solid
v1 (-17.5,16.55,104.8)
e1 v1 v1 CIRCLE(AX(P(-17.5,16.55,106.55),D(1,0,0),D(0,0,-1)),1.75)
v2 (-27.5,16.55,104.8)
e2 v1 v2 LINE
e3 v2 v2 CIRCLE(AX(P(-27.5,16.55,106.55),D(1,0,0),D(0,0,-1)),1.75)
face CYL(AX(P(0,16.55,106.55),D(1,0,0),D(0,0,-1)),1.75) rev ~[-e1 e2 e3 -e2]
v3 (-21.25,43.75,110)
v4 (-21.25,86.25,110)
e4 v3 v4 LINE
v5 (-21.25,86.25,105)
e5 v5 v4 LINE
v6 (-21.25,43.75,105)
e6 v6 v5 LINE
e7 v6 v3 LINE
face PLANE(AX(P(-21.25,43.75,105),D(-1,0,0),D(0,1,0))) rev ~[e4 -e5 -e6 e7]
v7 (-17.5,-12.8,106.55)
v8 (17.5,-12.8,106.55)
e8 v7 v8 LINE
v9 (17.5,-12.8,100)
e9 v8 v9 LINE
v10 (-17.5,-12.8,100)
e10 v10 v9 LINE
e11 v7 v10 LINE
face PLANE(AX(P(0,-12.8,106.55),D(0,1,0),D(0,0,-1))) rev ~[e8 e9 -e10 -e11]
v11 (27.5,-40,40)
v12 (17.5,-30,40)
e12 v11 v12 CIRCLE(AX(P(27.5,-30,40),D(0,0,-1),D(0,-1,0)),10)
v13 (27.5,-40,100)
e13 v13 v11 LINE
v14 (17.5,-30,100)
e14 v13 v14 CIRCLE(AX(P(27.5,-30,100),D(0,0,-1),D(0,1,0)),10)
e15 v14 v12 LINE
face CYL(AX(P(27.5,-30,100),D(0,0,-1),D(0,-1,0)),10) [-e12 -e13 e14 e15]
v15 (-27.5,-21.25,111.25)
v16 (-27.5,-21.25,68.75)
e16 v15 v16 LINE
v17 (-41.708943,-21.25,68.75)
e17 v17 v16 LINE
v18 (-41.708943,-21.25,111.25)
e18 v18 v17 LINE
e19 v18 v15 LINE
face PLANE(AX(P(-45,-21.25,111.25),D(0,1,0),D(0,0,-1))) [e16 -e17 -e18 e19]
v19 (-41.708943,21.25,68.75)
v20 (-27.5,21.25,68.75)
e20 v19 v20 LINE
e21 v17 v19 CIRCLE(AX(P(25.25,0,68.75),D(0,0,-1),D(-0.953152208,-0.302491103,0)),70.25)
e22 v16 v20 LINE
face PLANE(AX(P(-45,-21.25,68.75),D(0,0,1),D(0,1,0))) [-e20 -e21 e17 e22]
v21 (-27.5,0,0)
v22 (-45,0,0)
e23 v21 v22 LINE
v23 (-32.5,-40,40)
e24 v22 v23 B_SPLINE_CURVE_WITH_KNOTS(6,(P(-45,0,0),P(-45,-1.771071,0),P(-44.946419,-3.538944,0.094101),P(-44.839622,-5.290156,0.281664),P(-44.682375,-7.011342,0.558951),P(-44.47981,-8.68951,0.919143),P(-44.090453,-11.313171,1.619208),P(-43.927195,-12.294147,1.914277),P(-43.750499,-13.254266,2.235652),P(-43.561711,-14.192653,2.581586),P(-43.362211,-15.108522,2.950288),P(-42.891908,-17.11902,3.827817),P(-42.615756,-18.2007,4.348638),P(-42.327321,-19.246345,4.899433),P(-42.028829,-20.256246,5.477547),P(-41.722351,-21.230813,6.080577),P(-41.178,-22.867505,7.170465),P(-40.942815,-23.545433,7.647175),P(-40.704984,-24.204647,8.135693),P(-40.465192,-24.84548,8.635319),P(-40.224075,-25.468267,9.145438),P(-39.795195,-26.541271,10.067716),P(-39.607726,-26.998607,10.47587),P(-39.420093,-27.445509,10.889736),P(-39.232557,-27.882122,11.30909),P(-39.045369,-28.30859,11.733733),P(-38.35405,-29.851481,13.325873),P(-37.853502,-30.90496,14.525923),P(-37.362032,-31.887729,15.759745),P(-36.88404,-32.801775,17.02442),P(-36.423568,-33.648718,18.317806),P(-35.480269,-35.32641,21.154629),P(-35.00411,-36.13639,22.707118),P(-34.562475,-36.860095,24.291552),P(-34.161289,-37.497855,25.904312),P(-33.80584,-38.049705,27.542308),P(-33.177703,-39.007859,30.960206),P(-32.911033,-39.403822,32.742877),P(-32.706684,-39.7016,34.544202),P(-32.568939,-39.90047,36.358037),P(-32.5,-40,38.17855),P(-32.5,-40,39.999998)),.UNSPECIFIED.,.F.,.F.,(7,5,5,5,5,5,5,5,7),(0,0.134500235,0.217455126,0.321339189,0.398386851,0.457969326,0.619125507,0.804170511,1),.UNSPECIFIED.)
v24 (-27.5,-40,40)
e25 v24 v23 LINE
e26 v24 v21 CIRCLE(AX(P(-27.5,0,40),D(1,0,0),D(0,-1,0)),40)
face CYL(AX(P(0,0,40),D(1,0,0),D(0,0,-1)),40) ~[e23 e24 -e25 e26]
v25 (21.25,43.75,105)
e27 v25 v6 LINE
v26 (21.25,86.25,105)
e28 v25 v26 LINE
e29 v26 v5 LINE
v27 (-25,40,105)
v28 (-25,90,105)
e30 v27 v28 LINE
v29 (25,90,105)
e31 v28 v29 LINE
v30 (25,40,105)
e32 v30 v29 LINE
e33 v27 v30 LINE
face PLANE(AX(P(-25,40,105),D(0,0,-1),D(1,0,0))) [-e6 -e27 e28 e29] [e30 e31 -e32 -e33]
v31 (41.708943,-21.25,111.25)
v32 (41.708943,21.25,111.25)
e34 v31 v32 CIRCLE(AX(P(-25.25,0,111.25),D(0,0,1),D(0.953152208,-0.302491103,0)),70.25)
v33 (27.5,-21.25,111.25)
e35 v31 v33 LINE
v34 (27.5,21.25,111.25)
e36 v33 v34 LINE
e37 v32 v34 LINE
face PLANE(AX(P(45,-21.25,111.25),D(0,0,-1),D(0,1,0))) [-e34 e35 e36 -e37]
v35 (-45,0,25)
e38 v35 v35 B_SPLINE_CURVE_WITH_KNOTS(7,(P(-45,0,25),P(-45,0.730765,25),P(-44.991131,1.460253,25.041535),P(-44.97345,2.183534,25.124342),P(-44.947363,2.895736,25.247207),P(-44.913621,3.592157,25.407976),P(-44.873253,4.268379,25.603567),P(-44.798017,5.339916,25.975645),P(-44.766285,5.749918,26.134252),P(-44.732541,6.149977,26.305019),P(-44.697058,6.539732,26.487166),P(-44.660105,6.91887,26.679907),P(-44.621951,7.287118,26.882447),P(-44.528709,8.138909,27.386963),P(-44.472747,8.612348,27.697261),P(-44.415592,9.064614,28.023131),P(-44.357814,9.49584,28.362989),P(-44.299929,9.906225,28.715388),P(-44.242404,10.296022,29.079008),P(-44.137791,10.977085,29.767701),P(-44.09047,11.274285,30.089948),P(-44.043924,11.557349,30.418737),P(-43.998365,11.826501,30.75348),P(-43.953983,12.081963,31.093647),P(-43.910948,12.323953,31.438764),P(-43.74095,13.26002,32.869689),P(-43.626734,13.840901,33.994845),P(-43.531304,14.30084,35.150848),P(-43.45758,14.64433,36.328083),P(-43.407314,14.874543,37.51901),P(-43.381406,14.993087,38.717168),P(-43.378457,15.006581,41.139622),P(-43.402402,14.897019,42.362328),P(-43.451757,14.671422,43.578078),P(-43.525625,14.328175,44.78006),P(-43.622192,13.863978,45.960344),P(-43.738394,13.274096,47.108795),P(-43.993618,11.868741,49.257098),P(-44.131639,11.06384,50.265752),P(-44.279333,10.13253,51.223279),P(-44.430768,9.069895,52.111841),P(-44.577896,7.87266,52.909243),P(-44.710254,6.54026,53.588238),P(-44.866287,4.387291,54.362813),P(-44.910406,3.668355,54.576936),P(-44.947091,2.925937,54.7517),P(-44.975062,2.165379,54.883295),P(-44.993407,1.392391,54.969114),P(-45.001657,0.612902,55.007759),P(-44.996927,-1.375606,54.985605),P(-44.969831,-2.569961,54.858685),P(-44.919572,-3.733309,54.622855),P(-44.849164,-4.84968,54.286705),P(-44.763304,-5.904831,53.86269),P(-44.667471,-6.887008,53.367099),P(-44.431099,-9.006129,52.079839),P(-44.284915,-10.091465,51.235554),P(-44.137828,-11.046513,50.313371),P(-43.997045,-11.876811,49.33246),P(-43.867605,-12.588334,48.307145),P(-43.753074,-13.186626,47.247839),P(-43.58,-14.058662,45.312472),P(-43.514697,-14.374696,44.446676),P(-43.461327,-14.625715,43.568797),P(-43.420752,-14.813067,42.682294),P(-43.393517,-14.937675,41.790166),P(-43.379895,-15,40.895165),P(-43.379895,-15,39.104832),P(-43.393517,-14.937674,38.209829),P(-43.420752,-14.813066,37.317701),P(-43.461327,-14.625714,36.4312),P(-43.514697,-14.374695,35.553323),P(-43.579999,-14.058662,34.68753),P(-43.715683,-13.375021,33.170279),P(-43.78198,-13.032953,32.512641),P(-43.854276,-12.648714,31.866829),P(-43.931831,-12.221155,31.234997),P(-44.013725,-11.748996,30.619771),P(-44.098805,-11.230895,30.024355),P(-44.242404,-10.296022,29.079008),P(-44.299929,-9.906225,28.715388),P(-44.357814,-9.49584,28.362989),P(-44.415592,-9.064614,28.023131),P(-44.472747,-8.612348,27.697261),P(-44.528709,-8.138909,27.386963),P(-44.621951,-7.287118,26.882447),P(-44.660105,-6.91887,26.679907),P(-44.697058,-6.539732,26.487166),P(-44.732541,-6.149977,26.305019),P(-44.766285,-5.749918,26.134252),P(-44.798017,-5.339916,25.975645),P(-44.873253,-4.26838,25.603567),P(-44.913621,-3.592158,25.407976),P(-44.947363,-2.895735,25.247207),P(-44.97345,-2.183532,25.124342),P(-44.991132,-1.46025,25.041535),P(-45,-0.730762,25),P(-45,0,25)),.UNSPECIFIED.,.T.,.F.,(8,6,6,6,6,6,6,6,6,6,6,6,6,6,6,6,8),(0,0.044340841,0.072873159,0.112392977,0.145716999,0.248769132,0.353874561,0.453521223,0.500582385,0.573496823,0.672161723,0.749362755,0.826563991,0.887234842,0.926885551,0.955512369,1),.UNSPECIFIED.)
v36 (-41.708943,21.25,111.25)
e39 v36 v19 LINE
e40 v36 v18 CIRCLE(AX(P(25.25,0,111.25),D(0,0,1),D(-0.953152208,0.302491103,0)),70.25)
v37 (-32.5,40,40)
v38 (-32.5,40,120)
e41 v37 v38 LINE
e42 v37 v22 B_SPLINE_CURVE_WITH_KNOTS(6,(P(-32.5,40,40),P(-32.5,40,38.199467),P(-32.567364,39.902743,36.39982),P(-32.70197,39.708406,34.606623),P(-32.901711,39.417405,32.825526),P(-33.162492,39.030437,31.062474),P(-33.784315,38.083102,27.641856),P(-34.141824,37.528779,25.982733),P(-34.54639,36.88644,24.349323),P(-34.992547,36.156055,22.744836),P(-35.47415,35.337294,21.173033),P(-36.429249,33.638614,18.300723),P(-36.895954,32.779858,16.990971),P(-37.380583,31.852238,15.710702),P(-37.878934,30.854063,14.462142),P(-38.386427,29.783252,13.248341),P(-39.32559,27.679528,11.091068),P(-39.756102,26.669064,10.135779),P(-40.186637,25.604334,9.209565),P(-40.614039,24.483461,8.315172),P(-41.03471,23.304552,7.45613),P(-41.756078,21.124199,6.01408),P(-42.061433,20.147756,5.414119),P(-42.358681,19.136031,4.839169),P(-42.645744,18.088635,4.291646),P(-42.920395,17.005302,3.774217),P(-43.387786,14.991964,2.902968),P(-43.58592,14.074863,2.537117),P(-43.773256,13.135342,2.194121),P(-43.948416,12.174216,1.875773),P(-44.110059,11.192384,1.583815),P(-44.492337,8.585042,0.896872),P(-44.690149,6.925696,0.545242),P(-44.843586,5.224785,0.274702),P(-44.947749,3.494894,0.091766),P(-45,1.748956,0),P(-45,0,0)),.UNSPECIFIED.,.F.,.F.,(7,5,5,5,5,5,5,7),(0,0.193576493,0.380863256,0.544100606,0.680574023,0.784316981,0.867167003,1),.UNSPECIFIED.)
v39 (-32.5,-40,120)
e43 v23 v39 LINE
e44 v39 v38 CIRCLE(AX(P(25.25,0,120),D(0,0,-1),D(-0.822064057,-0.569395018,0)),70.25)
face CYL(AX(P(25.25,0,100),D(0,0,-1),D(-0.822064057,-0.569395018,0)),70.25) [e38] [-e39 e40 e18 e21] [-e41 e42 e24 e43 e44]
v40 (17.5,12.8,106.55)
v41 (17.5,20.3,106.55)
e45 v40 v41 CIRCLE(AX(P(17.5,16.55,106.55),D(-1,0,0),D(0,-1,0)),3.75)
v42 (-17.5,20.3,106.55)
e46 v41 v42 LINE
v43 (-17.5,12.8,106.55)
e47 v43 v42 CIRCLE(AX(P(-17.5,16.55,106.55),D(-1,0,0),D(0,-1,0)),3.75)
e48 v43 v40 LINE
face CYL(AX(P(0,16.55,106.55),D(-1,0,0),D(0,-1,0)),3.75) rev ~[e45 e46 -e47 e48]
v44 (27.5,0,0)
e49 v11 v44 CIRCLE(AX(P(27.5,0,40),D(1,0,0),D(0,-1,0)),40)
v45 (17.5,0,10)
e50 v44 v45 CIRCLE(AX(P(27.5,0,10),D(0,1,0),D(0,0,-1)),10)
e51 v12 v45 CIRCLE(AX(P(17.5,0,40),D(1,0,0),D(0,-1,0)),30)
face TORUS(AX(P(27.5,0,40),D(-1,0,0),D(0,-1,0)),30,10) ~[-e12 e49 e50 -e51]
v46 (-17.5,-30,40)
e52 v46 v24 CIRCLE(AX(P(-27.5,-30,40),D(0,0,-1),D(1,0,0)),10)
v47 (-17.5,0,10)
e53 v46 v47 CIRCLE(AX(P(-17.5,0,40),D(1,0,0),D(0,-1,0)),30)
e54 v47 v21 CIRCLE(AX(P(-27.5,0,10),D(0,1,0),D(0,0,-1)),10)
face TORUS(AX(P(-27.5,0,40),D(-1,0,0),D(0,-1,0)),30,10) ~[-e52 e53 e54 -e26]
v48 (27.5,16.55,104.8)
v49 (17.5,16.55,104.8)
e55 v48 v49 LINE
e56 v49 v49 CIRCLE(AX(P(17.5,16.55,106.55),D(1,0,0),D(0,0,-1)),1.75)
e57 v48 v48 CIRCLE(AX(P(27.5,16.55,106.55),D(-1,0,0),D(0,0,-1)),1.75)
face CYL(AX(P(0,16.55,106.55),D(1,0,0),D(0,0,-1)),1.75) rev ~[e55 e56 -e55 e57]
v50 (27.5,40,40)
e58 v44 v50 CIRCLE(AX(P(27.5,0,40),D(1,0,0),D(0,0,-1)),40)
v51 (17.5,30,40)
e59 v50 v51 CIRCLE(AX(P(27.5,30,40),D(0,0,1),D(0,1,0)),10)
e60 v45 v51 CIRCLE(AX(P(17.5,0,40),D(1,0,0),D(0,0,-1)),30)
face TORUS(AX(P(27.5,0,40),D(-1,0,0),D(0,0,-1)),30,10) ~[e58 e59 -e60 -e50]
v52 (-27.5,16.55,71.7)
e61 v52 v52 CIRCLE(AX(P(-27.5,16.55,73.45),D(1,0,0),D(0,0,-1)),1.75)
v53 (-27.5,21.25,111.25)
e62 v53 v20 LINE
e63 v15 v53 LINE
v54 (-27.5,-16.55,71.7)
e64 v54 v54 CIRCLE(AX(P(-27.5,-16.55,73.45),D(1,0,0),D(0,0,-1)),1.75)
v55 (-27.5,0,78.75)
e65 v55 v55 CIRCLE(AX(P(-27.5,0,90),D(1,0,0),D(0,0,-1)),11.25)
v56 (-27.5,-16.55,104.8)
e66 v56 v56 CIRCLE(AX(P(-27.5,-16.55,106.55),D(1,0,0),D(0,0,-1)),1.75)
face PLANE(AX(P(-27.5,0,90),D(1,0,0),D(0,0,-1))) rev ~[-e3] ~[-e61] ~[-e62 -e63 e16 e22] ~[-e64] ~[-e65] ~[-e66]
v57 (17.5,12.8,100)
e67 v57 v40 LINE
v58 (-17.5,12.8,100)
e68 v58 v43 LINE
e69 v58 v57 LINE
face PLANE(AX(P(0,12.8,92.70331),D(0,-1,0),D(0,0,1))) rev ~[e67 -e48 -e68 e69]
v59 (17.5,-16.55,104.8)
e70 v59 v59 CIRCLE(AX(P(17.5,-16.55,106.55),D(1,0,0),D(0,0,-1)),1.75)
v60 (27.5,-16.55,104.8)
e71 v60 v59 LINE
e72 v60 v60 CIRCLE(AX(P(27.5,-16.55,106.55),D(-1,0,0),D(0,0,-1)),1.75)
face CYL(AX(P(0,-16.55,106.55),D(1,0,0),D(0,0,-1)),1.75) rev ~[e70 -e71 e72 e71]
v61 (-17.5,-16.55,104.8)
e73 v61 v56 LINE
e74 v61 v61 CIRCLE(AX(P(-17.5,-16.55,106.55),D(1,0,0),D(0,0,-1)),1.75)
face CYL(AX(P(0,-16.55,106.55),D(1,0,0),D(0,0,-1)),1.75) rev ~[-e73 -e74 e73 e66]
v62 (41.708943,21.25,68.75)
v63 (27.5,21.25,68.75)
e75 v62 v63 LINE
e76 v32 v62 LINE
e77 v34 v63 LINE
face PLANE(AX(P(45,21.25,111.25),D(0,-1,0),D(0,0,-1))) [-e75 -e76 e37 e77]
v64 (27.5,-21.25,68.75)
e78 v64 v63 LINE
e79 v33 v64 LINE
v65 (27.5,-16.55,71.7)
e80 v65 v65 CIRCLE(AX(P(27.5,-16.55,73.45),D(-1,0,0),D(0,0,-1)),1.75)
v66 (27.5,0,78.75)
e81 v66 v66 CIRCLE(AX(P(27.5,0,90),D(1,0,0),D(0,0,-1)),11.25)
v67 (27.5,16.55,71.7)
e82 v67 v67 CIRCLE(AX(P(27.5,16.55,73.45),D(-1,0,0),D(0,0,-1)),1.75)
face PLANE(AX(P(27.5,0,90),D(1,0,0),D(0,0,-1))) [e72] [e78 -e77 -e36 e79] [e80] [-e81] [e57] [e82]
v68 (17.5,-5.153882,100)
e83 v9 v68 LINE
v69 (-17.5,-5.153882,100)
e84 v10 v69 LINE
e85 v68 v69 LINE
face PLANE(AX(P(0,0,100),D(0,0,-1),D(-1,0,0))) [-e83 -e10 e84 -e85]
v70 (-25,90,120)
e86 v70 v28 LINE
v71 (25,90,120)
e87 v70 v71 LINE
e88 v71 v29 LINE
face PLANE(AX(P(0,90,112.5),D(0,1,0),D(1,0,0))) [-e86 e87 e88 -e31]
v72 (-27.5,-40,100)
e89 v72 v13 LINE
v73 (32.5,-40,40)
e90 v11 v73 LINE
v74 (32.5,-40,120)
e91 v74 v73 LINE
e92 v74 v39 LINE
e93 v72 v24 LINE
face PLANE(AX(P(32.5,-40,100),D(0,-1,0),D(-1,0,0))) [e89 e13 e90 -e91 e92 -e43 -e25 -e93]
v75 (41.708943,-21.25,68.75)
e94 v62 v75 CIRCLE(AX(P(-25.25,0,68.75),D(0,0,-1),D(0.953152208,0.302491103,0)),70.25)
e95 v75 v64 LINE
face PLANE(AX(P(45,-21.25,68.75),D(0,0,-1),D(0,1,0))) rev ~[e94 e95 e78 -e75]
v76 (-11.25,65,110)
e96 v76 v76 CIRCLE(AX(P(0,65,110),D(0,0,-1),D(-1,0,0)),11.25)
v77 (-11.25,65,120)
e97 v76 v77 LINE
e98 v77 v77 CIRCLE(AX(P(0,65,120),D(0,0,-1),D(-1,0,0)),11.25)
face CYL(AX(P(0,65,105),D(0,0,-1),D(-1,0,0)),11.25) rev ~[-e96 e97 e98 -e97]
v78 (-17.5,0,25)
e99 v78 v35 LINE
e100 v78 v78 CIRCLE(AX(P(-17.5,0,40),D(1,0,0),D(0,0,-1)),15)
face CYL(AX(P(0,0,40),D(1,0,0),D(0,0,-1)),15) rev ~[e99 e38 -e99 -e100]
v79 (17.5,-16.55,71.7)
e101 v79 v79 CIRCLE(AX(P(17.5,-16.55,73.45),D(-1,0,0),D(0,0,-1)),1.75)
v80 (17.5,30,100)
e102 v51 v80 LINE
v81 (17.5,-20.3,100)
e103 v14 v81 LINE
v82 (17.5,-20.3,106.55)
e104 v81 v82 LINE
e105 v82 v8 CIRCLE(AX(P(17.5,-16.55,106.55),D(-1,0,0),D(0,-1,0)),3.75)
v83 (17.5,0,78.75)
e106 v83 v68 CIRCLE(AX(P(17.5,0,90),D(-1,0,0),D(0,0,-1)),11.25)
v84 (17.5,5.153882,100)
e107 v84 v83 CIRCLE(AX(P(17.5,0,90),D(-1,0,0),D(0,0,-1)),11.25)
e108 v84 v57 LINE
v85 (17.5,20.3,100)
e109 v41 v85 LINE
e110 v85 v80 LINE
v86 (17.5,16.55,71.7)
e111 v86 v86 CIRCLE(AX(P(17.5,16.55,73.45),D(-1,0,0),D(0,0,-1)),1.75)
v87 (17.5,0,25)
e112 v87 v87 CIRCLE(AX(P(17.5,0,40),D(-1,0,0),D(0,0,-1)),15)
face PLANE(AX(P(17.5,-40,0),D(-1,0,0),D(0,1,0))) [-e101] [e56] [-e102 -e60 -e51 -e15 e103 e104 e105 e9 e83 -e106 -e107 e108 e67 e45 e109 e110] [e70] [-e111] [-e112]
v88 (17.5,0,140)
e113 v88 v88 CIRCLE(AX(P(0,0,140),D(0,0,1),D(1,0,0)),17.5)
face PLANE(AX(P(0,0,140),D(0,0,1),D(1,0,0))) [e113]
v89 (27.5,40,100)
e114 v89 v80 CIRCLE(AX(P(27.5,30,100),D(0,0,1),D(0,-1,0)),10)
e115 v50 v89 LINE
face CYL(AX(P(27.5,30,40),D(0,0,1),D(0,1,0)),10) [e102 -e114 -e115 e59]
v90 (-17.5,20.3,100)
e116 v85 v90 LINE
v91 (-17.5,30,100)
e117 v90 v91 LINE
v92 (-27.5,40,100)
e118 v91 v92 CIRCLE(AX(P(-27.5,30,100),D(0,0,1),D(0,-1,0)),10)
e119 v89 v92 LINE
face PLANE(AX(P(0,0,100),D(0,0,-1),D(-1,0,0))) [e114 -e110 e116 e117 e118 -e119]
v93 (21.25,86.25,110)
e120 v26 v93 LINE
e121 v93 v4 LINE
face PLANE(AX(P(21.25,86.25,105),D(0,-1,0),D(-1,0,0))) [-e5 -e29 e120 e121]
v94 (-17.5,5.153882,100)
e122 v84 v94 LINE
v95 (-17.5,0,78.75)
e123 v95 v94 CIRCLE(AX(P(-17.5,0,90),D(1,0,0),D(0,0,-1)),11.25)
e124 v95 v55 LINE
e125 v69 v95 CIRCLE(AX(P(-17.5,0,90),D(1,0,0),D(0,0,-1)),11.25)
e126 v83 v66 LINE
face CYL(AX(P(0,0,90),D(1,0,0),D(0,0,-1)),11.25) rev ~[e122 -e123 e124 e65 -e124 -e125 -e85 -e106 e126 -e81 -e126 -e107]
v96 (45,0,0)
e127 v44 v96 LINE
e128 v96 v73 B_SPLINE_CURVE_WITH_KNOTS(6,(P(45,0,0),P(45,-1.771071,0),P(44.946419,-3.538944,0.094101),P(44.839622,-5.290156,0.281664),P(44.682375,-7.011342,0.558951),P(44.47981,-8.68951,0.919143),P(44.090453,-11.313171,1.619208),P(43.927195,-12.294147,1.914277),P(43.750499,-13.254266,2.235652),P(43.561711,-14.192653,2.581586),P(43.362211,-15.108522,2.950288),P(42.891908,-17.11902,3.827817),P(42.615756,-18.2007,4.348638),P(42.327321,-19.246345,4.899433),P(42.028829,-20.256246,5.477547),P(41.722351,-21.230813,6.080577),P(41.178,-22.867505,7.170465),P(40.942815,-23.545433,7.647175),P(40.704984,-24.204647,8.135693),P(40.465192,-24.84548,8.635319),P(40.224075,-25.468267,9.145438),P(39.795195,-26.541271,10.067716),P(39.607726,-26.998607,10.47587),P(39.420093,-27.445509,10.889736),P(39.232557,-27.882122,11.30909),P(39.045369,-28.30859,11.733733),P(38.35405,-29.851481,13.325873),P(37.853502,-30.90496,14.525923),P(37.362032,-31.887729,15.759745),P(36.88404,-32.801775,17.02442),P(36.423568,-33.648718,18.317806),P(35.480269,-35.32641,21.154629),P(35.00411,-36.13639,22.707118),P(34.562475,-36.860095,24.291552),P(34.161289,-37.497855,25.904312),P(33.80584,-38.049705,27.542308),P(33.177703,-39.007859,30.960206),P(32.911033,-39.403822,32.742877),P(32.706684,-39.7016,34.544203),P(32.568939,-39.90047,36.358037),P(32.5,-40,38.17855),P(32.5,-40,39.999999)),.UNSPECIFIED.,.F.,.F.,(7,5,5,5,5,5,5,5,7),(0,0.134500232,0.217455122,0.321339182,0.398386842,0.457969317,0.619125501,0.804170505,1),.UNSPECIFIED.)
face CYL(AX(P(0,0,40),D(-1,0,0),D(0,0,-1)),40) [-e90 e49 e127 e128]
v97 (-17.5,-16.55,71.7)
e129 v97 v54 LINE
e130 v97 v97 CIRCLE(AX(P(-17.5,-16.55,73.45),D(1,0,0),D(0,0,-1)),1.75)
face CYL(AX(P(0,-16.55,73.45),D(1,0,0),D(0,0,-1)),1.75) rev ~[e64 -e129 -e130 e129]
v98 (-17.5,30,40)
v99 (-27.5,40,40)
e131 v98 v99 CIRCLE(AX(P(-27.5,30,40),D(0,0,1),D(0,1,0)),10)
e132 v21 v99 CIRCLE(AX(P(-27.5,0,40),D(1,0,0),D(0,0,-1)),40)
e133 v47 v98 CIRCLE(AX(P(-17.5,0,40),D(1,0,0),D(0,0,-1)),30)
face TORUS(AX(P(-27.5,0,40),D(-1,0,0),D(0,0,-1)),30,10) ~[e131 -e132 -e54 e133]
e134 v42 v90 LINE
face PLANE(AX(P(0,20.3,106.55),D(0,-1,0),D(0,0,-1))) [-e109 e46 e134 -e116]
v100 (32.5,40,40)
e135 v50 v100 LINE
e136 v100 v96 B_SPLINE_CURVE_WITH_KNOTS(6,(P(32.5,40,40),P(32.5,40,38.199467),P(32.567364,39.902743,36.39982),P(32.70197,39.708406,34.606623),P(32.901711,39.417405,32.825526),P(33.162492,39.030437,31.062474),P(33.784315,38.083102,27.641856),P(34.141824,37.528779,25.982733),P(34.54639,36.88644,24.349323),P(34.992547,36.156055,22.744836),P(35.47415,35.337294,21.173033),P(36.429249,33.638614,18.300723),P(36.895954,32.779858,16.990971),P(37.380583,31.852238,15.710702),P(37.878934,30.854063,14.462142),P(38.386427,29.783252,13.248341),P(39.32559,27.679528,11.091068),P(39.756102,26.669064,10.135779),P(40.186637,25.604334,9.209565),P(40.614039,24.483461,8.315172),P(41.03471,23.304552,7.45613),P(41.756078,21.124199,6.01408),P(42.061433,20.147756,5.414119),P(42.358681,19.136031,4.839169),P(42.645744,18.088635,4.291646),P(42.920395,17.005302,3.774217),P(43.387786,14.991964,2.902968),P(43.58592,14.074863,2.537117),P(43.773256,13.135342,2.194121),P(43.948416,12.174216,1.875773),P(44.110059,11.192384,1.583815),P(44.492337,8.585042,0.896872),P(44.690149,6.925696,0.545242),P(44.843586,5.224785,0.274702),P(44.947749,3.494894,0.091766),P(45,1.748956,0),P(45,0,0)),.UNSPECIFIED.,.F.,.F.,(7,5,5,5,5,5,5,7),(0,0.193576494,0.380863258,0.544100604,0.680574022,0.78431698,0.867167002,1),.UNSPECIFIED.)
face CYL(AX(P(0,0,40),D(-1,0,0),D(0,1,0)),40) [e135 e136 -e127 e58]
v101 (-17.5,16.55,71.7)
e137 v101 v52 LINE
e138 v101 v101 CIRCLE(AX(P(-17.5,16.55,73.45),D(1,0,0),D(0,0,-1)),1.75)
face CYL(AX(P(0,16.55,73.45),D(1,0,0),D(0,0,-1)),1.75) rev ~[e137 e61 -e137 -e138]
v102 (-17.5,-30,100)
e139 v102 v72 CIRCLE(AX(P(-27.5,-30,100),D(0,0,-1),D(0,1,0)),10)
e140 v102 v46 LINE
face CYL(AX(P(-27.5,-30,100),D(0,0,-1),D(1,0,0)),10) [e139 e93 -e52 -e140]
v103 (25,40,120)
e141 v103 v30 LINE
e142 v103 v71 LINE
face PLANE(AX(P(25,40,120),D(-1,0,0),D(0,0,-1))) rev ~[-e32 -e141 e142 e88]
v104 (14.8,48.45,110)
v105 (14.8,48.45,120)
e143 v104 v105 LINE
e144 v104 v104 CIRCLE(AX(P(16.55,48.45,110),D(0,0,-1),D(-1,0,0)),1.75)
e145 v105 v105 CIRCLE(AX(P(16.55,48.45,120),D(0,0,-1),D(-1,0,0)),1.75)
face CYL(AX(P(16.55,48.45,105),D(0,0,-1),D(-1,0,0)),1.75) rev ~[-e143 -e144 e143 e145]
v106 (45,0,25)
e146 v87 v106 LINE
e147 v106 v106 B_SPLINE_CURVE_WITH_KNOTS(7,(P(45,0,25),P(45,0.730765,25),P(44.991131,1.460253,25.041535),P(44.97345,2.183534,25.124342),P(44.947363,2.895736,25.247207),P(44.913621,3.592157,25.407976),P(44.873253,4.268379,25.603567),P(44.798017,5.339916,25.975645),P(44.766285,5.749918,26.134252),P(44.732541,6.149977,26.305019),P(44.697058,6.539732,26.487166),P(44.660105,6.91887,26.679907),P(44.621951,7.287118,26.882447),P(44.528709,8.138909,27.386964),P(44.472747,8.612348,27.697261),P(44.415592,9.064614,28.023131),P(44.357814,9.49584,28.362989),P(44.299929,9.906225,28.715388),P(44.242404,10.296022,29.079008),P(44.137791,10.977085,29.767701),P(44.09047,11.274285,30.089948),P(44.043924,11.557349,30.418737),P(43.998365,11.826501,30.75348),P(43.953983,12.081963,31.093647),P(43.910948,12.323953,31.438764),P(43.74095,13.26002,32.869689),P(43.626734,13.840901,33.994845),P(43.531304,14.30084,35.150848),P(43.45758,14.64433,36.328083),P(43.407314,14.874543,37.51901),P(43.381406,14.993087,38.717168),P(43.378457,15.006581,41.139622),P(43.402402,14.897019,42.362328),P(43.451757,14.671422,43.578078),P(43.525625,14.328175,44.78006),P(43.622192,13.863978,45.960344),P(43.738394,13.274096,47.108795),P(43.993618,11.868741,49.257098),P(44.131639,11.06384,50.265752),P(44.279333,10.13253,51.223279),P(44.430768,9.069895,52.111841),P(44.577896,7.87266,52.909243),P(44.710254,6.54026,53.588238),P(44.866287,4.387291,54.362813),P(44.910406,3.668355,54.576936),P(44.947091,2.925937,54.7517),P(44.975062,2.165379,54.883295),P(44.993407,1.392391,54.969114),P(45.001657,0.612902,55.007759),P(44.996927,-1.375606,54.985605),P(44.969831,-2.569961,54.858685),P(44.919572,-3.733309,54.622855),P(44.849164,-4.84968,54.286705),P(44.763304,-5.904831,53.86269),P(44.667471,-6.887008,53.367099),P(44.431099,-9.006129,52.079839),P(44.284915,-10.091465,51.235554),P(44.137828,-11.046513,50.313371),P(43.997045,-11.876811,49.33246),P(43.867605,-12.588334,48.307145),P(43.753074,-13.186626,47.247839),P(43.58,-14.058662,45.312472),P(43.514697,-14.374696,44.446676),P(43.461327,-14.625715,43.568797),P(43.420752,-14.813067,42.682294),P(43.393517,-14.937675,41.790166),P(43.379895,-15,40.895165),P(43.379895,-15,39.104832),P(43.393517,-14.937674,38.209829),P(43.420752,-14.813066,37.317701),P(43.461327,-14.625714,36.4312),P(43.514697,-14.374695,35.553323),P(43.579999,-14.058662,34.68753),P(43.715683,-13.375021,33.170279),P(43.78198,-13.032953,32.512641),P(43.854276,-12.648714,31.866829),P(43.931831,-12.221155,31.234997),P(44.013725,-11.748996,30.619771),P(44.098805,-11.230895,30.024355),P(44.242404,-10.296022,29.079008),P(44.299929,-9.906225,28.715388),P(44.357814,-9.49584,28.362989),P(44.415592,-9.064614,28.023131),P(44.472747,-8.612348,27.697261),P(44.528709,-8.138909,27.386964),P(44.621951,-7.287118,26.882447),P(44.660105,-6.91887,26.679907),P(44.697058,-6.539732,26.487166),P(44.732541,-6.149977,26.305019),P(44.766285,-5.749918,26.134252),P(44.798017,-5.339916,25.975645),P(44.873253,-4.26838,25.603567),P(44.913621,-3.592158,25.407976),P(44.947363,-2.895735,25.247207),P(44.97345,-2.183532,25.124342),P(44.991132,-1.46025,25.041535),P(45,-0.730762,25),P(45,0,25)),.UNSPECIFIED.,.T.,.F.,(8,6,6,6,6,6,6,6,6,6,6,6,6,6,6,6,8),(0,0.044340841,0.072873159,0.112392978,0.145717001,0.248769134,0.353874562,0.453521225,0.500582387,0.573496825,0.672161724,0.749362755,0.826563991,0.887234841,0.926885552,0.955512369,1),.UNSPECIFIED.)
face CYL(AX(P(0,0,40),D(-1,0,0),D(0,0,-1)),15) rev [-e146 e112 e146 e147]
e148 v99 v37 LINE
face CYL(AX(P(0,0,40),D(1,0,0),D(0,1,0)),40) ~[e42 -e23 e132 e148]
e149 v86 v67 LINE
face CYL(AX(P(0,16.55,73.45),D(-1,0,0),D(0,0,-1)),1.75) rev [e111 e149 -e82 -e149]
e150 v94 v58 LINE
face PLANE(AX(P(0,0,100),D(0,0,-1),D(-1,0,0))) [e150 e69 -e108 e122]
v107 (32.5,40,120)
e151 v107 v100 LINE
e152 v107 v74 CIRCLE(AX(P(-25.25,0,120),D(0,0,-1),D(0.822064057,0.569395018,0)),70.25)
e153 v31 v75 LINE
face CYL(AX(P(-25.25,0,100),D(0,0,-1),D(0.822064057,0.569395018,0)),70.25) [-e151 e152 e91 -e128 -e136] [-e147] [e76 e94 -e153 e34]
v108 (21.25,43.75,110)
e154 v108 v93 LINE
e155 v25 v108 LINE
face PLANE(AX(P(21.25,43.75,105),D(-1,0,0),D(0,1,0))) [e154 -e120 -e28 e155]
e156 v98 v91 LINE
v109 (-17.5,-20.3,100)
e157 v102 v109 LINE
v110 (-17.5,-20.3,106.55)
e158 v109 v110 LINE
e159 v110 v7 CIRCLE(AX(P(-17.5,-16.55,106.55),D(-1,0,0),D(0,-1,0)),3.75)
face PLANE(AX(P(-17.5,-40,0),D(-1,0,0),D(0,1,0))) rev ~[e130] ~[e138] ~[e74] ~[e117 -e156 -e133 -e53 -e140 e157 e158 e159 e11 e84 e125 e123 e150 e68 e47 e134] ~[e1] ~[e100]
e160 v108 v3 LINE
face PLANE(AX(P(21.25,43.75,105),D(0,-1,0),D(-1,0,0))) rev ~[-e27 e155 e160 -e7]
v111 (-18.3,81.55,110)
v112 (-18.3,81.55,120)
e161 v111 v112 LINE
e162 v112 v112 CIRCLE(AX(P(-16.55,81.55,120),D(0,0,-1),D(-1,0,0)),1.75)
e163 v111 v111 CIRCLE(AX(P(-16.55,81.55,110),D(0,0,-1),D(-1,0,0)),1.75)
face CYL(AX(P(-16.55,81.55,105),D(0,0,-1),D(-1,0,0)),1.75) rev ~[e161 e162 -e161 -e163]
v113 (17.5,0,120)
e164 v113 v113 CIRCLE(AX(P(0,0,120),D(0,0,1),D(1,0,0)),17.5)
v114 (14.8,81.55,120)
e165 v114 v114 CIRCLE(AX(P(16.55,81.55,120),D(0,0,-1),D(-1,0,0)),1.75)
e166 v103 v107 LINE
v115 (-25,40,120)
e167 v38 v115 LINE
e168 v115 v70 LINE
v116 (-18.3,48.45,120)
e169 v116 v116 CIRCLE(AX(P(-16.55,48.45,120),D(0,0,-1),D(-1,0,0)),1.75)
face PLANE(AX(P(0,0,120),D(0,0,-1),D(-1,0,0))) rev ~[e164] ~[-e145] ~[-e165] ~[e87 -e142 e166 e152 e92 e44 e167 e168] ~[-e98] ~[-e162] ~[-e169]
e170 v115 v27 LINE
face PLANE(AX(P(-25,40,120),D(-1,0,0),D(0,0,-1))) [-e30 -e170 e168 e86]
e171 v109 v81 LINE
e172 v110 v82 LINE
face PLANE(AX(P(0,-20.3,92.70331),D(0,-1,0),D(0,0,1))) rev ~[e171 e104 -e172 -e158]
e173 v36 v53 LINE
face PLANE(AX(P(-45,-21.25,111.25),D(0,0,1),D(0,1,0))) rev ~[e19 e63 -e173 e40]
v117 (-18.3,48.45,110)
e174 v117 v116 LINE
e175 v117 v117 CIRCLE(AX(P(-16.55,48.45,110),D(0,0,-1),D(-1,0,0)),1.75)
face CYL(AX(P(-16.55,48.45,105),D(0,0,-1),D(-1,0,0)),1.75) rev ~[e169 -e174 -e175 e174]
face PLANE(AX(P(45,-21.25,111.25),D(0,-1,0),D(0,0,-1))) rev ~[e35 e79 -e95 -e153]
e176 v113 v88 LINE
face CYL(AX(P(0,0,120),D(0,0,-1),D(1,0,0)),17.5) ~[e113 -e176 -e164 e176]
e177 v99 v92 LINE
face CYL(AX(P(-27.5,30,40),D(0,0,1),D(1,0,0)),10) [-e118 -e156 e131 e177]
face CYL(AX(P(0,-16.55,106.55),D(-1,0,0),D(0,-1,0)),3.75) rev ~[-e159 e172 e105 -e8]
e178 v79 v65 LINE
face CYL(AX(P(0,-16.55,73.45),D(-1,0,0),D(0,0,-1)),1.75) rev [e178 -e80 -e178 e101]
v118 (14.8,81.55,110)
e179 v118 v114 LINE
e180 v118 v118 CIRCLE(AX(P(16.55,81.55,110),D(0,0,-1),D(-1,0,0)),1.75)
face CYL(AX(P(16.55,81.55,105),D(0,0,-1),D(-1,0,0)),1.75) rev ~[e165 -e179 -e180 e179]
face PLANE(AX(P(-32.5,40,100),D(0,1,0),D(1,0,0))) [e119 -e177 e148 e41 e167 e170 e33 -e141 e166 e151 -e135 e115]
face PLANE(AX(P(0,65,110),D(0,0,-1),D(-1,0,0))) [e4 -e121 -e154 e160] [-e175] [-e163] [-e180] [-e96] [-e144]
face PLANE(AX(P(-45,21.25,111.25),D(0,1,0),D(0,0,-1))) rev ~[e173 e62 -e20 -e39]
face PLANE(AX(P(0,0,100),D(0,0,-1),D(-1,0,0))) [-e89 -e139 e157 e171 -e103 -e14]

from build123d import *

# Parameters (mm, degrees)
BOSS_EXTRUDE1_DEPTH     = 100
BOSS_EXTRUDE1_2_DEPTH   = 100
BOSS_EXTRUDE2_DEPTH     = 20
SKETCH3_R               = 15
SKETCH3_R_2             = 11.25
SKETCH3_R_3             = 1.75
CUT_EXTRUDE1_DEPTH      = 46
CUT_EXTRUDE1_DEPTH_BACK = 46
SKETCH4_W               = 42.5
SKETCH4_H               = 42.5
CUT_EXTRUDE2_DEPTH      = 17.5
SKETCH5_W               = 42.5
SKETCH5_H               = 42.5
CUT_EXTRUDE4_DEPTH      = 17.5
SKETCH6_W               = 50
SKETCH6_H               = 15
BOSS_EXTRUDE3_DEPTH     = 50
SKETCH7_R               = 11.25
SKETCH7_R_2             = 1.75
CUT_EXTRUDE5_DEPTH      = 106.0000001
CUT_EXTRUDE5_DEPTH_BACK = 16.0000001
SKETCH8_W               = 42.5
SKETCH8_H               = 42.5
CUT_EXTRUDE6_DEPTH      = 5
SKETCH9_R               = 17.5
BOSS_EXTRUDE4_DEPTH     = 20
FILLET1_R               = 10
CUT_EXTRUDE7_DEPTH      = 17.5
CUT_EXTRUDE7_DEPTH_BACK = 17.5


with BuildPart() as part:
    # Sketch1 → Boss-Extrude1 (new body)
    with BuildSketch(Plane.XY):
        with BuildLine():
            Line((-17.5, -40), (-17.5, 40))
            Line((-17.5, 40), (-32.5, 40))
            ThreePointArc((-32.5, 40), (-45, 0), (-32.5, -40))
            Line((-32.5, -40), (-17.5, -40))
        make_face()
    extrude(amount=BOSS_EXTRUDE1_DEPTH)



with BuildPart() as body_2:
    # Sketch1 → Boss-Extrude1 2 (new body)
    with BuildSketch(Plane.XY):
        with BuildLine():
            Line((17.5, -40), (17.5, 40))
            Line((17.5, 40), (32.5, 40))
            ThreePointArc((32.5, 40), (45, 0), (32.5, -40))
            Line((32.5, -40), (17.5, -40))
        make_face()
    extrude(amount=BOSS_EXTRUDE1_2_DEPTH)


with BuildPart() as part_1:
    add(part.part)

    add(body_2.part)  # Boss-Extrude2 merges body 2
    # Sketch2 → Boss-Extrude2 (add)
    with BuildSketch(Plane.XY.offset(100)):
        with BuildLine():
            Line((-32.5, 40), (32.5, 40))
            ThreePointArc((32.5, 40), (45, 0), (32.5, -40))
            Line((32.5, -40), (-32.5, -40))
            ThreePointArc((-32.5, -40), (-45, 0), (-32.5, 40))
        make_face()
    extrude(amount=BOSS_EXTRUDE2_DEPTH)

    # Sketch3 → Cut-Extrude1 (cut, two sides)
    with BuildSketch(Plane(origin=(0, 0, 0), x_dir=(0, 0, -1), z_dir=(1, 0, 0))) as cut_extrude1_sk:
        with BuildLine():
            ThreePointArc((-40, 40), (-11.715728753, 28.284271247), (0, 0))
            Line((0, 0), (0, 40))
            Line((0, 40), (-40, 40))
        make_face()
        with BuildLine():
            Line((0, -40), (0, 0))
            ThreePointArc((0, 0), (-11.715728753, -28.284271247), (-40, -40))
            Line((-40, -40), (0, -40))
        make_face()
        with Locations((-40, 0)):
            Circle(SKETCH3_R)
        with Locations((-90, 0)):
            Circle(SKETCH3_R_2)
        with Locations((-73.45, -16.55)):
            Circle(SKETCH3_R_3)
        with Locations((-73.45, 16.55)):
            Circle(SKETCH3_R_3)
        with Locations((-106.55, 16.55)):
            Circle(SKETCH3_R_3)
        with Locations((-106.55, -16.55)):
            Circle(SKETCH3_R_3)
    extrude(amount=CUT_EXTRUDE1_DEPTH, mode=Mode.SUBTRACT)
    extrude(cut_extrude1_sk.sketch, amount=-CUT_EXTRUDE1_DEPTH_BACK, mode=Mode.SUBTRACT)

    # Sketch4 → Cut-Extrude2 (cut)
    with BuildSketch(Plane(origin=(45, 0, 0), x_dir=(0, 0, -1), z_dir=(1, 0, 0))):
        with Locations((-90, 0)):
            Rectangle(SKETCH4_W, SKETCH4_H)
    extrude(amount=-CUT_EXTRUDE2_DEPTH, mode=Mode.SUBTRACT)

    # Sketch5 → Cut-Extrude4 (cut)
    with BuildSketch(Plane(origin=(-45, 0, 0), x_dir=(0, 0, -1), z_dir=(1, 0, 0))):
        with Locations((-90, 0)):
            Rectangle(SKETCH5_W, SKETCH5_H)
    extrude(amount=CUT_EXTRUDE4_DEPTH, mode=Mode.SUBTRACT)

    # Sketch6 → Boss-Extrude3 (add)
    with BuildSketch(Plane(origin=(0, 40, 0), x_dir=(1, 0, 0), z_dir=(0, 1, 0))):
        with Locations((0, -112.5)):
            Rectangle(SKETCH6_W, SKETCH6_H)
    extrude(amount=BOSS_EXTRUDE3_DEPTH)

    # Sketch7 → Cut-Extrude5 (cut, two sides)
    with BuildSketch(Plane(origin=(0, 0, 105), x_dir=(-1, 0, 0), z_dir=(0, 0, -1))) as cut_extrude5_sk:
        with Locations((0, 65)):
            Circle(SKETCH7_R)
        with Locations((16.55, 81.55)):
            Circle(SKETCH7_R_2)
        with Locations((-16.55, 81.55)):
            Circle(SKETCH7_R_2)
        with Locations((-16.55, 48.45)):
            Circle(SKETCH7_R_2)
        with Locations((16.55, 48.45)):
            Circle(SKETCH7_R_2)
    extrude(amount=CUT_EXTRUDE5_DEPTH, mode=Mode.SUBTRACT)
    extrude(cut_extrude5_sk.sketch, amount=-CUT_EXTRUDE5_DEPTH_BACK, mode=Mode.SUBTRACT)

    # Sketch8 → Cut-Extrude6 (cut)
    with BuildSketch(Plane(origin=(0, 0, 105), x_dir=(-1, 0, 0), z_dir=(0, 0, -1))):
        with Locations((0, 65)):
            Rectangle(SKETCH8_W, SKETCH8_H)
    extrude(amount=-CUT_EXTRUDE6_DEPTH, mode=Mode.SUBTRACT)

    # Sketch9 → Boss-Extrude4 (add)
    with BuildSketch(Plane.XY.offset(120)):
        Circle(SKETCH9_R)
    extrude(amount=BOSS_EXTRUDE4_DEPTH)

    # Fillet1
    fillet1_edges = [part_1.edges().sort_by_distance(p)[0] for p in [
        (17.5, 40, 70),
        (17.5, -40, 70),
        (-17.5, 0, 0),
        (17.5, 0, 0),
        (-17.5, 40, 70),
        (-17.5, -40, 70),
    ]]
    fillet(fillet1_edges, radius=FILLET1_R)

    # Sketch10 → Cut-Extrude7 (cut, two sides)
    with BuildSketch(Plane(origin=(0, 0, 0), x_dir=(0, 0, -1), z_dir=(1, 0, 0))) as cut_extrude7_sk:
        with BuildLine():
            Line((-106.55, 20.3), (-92.703309556, 20.3))
            Line((-92.703309556, 20.3), (-92.703309556, 12.8))
            Line((-92.703309556, 12.8), (-106.55, 12.8))
            ThreePointArc((-106.55, 12.8), (-110.3, 16.55), (-106.55, 20.3))
        make_face()
        with BuildLine():
            Line((-106.55, -12.8), (-92.703309556, -12.8))
            Line((-92.703309556, -12.8), (-92.703309556, -20.3))
            Line((-92.703309556, -20.3), (-106.55, -20.3))
            ThreePointArc((-106.55, -20.3), (-110.3, -16.55), (-106.55, -12.8))
        make_face()
    extrude(amount=CUT_EXTRUDE7_DEPTH, mode=Mode.SUBTRACT)
    extrude(cut_extrude7_sk.sketch, amount=-CUT_EXTRUDE7_DEPTH_BACK, mode=Mode.SUBTRACT)


solid = part_1.part
